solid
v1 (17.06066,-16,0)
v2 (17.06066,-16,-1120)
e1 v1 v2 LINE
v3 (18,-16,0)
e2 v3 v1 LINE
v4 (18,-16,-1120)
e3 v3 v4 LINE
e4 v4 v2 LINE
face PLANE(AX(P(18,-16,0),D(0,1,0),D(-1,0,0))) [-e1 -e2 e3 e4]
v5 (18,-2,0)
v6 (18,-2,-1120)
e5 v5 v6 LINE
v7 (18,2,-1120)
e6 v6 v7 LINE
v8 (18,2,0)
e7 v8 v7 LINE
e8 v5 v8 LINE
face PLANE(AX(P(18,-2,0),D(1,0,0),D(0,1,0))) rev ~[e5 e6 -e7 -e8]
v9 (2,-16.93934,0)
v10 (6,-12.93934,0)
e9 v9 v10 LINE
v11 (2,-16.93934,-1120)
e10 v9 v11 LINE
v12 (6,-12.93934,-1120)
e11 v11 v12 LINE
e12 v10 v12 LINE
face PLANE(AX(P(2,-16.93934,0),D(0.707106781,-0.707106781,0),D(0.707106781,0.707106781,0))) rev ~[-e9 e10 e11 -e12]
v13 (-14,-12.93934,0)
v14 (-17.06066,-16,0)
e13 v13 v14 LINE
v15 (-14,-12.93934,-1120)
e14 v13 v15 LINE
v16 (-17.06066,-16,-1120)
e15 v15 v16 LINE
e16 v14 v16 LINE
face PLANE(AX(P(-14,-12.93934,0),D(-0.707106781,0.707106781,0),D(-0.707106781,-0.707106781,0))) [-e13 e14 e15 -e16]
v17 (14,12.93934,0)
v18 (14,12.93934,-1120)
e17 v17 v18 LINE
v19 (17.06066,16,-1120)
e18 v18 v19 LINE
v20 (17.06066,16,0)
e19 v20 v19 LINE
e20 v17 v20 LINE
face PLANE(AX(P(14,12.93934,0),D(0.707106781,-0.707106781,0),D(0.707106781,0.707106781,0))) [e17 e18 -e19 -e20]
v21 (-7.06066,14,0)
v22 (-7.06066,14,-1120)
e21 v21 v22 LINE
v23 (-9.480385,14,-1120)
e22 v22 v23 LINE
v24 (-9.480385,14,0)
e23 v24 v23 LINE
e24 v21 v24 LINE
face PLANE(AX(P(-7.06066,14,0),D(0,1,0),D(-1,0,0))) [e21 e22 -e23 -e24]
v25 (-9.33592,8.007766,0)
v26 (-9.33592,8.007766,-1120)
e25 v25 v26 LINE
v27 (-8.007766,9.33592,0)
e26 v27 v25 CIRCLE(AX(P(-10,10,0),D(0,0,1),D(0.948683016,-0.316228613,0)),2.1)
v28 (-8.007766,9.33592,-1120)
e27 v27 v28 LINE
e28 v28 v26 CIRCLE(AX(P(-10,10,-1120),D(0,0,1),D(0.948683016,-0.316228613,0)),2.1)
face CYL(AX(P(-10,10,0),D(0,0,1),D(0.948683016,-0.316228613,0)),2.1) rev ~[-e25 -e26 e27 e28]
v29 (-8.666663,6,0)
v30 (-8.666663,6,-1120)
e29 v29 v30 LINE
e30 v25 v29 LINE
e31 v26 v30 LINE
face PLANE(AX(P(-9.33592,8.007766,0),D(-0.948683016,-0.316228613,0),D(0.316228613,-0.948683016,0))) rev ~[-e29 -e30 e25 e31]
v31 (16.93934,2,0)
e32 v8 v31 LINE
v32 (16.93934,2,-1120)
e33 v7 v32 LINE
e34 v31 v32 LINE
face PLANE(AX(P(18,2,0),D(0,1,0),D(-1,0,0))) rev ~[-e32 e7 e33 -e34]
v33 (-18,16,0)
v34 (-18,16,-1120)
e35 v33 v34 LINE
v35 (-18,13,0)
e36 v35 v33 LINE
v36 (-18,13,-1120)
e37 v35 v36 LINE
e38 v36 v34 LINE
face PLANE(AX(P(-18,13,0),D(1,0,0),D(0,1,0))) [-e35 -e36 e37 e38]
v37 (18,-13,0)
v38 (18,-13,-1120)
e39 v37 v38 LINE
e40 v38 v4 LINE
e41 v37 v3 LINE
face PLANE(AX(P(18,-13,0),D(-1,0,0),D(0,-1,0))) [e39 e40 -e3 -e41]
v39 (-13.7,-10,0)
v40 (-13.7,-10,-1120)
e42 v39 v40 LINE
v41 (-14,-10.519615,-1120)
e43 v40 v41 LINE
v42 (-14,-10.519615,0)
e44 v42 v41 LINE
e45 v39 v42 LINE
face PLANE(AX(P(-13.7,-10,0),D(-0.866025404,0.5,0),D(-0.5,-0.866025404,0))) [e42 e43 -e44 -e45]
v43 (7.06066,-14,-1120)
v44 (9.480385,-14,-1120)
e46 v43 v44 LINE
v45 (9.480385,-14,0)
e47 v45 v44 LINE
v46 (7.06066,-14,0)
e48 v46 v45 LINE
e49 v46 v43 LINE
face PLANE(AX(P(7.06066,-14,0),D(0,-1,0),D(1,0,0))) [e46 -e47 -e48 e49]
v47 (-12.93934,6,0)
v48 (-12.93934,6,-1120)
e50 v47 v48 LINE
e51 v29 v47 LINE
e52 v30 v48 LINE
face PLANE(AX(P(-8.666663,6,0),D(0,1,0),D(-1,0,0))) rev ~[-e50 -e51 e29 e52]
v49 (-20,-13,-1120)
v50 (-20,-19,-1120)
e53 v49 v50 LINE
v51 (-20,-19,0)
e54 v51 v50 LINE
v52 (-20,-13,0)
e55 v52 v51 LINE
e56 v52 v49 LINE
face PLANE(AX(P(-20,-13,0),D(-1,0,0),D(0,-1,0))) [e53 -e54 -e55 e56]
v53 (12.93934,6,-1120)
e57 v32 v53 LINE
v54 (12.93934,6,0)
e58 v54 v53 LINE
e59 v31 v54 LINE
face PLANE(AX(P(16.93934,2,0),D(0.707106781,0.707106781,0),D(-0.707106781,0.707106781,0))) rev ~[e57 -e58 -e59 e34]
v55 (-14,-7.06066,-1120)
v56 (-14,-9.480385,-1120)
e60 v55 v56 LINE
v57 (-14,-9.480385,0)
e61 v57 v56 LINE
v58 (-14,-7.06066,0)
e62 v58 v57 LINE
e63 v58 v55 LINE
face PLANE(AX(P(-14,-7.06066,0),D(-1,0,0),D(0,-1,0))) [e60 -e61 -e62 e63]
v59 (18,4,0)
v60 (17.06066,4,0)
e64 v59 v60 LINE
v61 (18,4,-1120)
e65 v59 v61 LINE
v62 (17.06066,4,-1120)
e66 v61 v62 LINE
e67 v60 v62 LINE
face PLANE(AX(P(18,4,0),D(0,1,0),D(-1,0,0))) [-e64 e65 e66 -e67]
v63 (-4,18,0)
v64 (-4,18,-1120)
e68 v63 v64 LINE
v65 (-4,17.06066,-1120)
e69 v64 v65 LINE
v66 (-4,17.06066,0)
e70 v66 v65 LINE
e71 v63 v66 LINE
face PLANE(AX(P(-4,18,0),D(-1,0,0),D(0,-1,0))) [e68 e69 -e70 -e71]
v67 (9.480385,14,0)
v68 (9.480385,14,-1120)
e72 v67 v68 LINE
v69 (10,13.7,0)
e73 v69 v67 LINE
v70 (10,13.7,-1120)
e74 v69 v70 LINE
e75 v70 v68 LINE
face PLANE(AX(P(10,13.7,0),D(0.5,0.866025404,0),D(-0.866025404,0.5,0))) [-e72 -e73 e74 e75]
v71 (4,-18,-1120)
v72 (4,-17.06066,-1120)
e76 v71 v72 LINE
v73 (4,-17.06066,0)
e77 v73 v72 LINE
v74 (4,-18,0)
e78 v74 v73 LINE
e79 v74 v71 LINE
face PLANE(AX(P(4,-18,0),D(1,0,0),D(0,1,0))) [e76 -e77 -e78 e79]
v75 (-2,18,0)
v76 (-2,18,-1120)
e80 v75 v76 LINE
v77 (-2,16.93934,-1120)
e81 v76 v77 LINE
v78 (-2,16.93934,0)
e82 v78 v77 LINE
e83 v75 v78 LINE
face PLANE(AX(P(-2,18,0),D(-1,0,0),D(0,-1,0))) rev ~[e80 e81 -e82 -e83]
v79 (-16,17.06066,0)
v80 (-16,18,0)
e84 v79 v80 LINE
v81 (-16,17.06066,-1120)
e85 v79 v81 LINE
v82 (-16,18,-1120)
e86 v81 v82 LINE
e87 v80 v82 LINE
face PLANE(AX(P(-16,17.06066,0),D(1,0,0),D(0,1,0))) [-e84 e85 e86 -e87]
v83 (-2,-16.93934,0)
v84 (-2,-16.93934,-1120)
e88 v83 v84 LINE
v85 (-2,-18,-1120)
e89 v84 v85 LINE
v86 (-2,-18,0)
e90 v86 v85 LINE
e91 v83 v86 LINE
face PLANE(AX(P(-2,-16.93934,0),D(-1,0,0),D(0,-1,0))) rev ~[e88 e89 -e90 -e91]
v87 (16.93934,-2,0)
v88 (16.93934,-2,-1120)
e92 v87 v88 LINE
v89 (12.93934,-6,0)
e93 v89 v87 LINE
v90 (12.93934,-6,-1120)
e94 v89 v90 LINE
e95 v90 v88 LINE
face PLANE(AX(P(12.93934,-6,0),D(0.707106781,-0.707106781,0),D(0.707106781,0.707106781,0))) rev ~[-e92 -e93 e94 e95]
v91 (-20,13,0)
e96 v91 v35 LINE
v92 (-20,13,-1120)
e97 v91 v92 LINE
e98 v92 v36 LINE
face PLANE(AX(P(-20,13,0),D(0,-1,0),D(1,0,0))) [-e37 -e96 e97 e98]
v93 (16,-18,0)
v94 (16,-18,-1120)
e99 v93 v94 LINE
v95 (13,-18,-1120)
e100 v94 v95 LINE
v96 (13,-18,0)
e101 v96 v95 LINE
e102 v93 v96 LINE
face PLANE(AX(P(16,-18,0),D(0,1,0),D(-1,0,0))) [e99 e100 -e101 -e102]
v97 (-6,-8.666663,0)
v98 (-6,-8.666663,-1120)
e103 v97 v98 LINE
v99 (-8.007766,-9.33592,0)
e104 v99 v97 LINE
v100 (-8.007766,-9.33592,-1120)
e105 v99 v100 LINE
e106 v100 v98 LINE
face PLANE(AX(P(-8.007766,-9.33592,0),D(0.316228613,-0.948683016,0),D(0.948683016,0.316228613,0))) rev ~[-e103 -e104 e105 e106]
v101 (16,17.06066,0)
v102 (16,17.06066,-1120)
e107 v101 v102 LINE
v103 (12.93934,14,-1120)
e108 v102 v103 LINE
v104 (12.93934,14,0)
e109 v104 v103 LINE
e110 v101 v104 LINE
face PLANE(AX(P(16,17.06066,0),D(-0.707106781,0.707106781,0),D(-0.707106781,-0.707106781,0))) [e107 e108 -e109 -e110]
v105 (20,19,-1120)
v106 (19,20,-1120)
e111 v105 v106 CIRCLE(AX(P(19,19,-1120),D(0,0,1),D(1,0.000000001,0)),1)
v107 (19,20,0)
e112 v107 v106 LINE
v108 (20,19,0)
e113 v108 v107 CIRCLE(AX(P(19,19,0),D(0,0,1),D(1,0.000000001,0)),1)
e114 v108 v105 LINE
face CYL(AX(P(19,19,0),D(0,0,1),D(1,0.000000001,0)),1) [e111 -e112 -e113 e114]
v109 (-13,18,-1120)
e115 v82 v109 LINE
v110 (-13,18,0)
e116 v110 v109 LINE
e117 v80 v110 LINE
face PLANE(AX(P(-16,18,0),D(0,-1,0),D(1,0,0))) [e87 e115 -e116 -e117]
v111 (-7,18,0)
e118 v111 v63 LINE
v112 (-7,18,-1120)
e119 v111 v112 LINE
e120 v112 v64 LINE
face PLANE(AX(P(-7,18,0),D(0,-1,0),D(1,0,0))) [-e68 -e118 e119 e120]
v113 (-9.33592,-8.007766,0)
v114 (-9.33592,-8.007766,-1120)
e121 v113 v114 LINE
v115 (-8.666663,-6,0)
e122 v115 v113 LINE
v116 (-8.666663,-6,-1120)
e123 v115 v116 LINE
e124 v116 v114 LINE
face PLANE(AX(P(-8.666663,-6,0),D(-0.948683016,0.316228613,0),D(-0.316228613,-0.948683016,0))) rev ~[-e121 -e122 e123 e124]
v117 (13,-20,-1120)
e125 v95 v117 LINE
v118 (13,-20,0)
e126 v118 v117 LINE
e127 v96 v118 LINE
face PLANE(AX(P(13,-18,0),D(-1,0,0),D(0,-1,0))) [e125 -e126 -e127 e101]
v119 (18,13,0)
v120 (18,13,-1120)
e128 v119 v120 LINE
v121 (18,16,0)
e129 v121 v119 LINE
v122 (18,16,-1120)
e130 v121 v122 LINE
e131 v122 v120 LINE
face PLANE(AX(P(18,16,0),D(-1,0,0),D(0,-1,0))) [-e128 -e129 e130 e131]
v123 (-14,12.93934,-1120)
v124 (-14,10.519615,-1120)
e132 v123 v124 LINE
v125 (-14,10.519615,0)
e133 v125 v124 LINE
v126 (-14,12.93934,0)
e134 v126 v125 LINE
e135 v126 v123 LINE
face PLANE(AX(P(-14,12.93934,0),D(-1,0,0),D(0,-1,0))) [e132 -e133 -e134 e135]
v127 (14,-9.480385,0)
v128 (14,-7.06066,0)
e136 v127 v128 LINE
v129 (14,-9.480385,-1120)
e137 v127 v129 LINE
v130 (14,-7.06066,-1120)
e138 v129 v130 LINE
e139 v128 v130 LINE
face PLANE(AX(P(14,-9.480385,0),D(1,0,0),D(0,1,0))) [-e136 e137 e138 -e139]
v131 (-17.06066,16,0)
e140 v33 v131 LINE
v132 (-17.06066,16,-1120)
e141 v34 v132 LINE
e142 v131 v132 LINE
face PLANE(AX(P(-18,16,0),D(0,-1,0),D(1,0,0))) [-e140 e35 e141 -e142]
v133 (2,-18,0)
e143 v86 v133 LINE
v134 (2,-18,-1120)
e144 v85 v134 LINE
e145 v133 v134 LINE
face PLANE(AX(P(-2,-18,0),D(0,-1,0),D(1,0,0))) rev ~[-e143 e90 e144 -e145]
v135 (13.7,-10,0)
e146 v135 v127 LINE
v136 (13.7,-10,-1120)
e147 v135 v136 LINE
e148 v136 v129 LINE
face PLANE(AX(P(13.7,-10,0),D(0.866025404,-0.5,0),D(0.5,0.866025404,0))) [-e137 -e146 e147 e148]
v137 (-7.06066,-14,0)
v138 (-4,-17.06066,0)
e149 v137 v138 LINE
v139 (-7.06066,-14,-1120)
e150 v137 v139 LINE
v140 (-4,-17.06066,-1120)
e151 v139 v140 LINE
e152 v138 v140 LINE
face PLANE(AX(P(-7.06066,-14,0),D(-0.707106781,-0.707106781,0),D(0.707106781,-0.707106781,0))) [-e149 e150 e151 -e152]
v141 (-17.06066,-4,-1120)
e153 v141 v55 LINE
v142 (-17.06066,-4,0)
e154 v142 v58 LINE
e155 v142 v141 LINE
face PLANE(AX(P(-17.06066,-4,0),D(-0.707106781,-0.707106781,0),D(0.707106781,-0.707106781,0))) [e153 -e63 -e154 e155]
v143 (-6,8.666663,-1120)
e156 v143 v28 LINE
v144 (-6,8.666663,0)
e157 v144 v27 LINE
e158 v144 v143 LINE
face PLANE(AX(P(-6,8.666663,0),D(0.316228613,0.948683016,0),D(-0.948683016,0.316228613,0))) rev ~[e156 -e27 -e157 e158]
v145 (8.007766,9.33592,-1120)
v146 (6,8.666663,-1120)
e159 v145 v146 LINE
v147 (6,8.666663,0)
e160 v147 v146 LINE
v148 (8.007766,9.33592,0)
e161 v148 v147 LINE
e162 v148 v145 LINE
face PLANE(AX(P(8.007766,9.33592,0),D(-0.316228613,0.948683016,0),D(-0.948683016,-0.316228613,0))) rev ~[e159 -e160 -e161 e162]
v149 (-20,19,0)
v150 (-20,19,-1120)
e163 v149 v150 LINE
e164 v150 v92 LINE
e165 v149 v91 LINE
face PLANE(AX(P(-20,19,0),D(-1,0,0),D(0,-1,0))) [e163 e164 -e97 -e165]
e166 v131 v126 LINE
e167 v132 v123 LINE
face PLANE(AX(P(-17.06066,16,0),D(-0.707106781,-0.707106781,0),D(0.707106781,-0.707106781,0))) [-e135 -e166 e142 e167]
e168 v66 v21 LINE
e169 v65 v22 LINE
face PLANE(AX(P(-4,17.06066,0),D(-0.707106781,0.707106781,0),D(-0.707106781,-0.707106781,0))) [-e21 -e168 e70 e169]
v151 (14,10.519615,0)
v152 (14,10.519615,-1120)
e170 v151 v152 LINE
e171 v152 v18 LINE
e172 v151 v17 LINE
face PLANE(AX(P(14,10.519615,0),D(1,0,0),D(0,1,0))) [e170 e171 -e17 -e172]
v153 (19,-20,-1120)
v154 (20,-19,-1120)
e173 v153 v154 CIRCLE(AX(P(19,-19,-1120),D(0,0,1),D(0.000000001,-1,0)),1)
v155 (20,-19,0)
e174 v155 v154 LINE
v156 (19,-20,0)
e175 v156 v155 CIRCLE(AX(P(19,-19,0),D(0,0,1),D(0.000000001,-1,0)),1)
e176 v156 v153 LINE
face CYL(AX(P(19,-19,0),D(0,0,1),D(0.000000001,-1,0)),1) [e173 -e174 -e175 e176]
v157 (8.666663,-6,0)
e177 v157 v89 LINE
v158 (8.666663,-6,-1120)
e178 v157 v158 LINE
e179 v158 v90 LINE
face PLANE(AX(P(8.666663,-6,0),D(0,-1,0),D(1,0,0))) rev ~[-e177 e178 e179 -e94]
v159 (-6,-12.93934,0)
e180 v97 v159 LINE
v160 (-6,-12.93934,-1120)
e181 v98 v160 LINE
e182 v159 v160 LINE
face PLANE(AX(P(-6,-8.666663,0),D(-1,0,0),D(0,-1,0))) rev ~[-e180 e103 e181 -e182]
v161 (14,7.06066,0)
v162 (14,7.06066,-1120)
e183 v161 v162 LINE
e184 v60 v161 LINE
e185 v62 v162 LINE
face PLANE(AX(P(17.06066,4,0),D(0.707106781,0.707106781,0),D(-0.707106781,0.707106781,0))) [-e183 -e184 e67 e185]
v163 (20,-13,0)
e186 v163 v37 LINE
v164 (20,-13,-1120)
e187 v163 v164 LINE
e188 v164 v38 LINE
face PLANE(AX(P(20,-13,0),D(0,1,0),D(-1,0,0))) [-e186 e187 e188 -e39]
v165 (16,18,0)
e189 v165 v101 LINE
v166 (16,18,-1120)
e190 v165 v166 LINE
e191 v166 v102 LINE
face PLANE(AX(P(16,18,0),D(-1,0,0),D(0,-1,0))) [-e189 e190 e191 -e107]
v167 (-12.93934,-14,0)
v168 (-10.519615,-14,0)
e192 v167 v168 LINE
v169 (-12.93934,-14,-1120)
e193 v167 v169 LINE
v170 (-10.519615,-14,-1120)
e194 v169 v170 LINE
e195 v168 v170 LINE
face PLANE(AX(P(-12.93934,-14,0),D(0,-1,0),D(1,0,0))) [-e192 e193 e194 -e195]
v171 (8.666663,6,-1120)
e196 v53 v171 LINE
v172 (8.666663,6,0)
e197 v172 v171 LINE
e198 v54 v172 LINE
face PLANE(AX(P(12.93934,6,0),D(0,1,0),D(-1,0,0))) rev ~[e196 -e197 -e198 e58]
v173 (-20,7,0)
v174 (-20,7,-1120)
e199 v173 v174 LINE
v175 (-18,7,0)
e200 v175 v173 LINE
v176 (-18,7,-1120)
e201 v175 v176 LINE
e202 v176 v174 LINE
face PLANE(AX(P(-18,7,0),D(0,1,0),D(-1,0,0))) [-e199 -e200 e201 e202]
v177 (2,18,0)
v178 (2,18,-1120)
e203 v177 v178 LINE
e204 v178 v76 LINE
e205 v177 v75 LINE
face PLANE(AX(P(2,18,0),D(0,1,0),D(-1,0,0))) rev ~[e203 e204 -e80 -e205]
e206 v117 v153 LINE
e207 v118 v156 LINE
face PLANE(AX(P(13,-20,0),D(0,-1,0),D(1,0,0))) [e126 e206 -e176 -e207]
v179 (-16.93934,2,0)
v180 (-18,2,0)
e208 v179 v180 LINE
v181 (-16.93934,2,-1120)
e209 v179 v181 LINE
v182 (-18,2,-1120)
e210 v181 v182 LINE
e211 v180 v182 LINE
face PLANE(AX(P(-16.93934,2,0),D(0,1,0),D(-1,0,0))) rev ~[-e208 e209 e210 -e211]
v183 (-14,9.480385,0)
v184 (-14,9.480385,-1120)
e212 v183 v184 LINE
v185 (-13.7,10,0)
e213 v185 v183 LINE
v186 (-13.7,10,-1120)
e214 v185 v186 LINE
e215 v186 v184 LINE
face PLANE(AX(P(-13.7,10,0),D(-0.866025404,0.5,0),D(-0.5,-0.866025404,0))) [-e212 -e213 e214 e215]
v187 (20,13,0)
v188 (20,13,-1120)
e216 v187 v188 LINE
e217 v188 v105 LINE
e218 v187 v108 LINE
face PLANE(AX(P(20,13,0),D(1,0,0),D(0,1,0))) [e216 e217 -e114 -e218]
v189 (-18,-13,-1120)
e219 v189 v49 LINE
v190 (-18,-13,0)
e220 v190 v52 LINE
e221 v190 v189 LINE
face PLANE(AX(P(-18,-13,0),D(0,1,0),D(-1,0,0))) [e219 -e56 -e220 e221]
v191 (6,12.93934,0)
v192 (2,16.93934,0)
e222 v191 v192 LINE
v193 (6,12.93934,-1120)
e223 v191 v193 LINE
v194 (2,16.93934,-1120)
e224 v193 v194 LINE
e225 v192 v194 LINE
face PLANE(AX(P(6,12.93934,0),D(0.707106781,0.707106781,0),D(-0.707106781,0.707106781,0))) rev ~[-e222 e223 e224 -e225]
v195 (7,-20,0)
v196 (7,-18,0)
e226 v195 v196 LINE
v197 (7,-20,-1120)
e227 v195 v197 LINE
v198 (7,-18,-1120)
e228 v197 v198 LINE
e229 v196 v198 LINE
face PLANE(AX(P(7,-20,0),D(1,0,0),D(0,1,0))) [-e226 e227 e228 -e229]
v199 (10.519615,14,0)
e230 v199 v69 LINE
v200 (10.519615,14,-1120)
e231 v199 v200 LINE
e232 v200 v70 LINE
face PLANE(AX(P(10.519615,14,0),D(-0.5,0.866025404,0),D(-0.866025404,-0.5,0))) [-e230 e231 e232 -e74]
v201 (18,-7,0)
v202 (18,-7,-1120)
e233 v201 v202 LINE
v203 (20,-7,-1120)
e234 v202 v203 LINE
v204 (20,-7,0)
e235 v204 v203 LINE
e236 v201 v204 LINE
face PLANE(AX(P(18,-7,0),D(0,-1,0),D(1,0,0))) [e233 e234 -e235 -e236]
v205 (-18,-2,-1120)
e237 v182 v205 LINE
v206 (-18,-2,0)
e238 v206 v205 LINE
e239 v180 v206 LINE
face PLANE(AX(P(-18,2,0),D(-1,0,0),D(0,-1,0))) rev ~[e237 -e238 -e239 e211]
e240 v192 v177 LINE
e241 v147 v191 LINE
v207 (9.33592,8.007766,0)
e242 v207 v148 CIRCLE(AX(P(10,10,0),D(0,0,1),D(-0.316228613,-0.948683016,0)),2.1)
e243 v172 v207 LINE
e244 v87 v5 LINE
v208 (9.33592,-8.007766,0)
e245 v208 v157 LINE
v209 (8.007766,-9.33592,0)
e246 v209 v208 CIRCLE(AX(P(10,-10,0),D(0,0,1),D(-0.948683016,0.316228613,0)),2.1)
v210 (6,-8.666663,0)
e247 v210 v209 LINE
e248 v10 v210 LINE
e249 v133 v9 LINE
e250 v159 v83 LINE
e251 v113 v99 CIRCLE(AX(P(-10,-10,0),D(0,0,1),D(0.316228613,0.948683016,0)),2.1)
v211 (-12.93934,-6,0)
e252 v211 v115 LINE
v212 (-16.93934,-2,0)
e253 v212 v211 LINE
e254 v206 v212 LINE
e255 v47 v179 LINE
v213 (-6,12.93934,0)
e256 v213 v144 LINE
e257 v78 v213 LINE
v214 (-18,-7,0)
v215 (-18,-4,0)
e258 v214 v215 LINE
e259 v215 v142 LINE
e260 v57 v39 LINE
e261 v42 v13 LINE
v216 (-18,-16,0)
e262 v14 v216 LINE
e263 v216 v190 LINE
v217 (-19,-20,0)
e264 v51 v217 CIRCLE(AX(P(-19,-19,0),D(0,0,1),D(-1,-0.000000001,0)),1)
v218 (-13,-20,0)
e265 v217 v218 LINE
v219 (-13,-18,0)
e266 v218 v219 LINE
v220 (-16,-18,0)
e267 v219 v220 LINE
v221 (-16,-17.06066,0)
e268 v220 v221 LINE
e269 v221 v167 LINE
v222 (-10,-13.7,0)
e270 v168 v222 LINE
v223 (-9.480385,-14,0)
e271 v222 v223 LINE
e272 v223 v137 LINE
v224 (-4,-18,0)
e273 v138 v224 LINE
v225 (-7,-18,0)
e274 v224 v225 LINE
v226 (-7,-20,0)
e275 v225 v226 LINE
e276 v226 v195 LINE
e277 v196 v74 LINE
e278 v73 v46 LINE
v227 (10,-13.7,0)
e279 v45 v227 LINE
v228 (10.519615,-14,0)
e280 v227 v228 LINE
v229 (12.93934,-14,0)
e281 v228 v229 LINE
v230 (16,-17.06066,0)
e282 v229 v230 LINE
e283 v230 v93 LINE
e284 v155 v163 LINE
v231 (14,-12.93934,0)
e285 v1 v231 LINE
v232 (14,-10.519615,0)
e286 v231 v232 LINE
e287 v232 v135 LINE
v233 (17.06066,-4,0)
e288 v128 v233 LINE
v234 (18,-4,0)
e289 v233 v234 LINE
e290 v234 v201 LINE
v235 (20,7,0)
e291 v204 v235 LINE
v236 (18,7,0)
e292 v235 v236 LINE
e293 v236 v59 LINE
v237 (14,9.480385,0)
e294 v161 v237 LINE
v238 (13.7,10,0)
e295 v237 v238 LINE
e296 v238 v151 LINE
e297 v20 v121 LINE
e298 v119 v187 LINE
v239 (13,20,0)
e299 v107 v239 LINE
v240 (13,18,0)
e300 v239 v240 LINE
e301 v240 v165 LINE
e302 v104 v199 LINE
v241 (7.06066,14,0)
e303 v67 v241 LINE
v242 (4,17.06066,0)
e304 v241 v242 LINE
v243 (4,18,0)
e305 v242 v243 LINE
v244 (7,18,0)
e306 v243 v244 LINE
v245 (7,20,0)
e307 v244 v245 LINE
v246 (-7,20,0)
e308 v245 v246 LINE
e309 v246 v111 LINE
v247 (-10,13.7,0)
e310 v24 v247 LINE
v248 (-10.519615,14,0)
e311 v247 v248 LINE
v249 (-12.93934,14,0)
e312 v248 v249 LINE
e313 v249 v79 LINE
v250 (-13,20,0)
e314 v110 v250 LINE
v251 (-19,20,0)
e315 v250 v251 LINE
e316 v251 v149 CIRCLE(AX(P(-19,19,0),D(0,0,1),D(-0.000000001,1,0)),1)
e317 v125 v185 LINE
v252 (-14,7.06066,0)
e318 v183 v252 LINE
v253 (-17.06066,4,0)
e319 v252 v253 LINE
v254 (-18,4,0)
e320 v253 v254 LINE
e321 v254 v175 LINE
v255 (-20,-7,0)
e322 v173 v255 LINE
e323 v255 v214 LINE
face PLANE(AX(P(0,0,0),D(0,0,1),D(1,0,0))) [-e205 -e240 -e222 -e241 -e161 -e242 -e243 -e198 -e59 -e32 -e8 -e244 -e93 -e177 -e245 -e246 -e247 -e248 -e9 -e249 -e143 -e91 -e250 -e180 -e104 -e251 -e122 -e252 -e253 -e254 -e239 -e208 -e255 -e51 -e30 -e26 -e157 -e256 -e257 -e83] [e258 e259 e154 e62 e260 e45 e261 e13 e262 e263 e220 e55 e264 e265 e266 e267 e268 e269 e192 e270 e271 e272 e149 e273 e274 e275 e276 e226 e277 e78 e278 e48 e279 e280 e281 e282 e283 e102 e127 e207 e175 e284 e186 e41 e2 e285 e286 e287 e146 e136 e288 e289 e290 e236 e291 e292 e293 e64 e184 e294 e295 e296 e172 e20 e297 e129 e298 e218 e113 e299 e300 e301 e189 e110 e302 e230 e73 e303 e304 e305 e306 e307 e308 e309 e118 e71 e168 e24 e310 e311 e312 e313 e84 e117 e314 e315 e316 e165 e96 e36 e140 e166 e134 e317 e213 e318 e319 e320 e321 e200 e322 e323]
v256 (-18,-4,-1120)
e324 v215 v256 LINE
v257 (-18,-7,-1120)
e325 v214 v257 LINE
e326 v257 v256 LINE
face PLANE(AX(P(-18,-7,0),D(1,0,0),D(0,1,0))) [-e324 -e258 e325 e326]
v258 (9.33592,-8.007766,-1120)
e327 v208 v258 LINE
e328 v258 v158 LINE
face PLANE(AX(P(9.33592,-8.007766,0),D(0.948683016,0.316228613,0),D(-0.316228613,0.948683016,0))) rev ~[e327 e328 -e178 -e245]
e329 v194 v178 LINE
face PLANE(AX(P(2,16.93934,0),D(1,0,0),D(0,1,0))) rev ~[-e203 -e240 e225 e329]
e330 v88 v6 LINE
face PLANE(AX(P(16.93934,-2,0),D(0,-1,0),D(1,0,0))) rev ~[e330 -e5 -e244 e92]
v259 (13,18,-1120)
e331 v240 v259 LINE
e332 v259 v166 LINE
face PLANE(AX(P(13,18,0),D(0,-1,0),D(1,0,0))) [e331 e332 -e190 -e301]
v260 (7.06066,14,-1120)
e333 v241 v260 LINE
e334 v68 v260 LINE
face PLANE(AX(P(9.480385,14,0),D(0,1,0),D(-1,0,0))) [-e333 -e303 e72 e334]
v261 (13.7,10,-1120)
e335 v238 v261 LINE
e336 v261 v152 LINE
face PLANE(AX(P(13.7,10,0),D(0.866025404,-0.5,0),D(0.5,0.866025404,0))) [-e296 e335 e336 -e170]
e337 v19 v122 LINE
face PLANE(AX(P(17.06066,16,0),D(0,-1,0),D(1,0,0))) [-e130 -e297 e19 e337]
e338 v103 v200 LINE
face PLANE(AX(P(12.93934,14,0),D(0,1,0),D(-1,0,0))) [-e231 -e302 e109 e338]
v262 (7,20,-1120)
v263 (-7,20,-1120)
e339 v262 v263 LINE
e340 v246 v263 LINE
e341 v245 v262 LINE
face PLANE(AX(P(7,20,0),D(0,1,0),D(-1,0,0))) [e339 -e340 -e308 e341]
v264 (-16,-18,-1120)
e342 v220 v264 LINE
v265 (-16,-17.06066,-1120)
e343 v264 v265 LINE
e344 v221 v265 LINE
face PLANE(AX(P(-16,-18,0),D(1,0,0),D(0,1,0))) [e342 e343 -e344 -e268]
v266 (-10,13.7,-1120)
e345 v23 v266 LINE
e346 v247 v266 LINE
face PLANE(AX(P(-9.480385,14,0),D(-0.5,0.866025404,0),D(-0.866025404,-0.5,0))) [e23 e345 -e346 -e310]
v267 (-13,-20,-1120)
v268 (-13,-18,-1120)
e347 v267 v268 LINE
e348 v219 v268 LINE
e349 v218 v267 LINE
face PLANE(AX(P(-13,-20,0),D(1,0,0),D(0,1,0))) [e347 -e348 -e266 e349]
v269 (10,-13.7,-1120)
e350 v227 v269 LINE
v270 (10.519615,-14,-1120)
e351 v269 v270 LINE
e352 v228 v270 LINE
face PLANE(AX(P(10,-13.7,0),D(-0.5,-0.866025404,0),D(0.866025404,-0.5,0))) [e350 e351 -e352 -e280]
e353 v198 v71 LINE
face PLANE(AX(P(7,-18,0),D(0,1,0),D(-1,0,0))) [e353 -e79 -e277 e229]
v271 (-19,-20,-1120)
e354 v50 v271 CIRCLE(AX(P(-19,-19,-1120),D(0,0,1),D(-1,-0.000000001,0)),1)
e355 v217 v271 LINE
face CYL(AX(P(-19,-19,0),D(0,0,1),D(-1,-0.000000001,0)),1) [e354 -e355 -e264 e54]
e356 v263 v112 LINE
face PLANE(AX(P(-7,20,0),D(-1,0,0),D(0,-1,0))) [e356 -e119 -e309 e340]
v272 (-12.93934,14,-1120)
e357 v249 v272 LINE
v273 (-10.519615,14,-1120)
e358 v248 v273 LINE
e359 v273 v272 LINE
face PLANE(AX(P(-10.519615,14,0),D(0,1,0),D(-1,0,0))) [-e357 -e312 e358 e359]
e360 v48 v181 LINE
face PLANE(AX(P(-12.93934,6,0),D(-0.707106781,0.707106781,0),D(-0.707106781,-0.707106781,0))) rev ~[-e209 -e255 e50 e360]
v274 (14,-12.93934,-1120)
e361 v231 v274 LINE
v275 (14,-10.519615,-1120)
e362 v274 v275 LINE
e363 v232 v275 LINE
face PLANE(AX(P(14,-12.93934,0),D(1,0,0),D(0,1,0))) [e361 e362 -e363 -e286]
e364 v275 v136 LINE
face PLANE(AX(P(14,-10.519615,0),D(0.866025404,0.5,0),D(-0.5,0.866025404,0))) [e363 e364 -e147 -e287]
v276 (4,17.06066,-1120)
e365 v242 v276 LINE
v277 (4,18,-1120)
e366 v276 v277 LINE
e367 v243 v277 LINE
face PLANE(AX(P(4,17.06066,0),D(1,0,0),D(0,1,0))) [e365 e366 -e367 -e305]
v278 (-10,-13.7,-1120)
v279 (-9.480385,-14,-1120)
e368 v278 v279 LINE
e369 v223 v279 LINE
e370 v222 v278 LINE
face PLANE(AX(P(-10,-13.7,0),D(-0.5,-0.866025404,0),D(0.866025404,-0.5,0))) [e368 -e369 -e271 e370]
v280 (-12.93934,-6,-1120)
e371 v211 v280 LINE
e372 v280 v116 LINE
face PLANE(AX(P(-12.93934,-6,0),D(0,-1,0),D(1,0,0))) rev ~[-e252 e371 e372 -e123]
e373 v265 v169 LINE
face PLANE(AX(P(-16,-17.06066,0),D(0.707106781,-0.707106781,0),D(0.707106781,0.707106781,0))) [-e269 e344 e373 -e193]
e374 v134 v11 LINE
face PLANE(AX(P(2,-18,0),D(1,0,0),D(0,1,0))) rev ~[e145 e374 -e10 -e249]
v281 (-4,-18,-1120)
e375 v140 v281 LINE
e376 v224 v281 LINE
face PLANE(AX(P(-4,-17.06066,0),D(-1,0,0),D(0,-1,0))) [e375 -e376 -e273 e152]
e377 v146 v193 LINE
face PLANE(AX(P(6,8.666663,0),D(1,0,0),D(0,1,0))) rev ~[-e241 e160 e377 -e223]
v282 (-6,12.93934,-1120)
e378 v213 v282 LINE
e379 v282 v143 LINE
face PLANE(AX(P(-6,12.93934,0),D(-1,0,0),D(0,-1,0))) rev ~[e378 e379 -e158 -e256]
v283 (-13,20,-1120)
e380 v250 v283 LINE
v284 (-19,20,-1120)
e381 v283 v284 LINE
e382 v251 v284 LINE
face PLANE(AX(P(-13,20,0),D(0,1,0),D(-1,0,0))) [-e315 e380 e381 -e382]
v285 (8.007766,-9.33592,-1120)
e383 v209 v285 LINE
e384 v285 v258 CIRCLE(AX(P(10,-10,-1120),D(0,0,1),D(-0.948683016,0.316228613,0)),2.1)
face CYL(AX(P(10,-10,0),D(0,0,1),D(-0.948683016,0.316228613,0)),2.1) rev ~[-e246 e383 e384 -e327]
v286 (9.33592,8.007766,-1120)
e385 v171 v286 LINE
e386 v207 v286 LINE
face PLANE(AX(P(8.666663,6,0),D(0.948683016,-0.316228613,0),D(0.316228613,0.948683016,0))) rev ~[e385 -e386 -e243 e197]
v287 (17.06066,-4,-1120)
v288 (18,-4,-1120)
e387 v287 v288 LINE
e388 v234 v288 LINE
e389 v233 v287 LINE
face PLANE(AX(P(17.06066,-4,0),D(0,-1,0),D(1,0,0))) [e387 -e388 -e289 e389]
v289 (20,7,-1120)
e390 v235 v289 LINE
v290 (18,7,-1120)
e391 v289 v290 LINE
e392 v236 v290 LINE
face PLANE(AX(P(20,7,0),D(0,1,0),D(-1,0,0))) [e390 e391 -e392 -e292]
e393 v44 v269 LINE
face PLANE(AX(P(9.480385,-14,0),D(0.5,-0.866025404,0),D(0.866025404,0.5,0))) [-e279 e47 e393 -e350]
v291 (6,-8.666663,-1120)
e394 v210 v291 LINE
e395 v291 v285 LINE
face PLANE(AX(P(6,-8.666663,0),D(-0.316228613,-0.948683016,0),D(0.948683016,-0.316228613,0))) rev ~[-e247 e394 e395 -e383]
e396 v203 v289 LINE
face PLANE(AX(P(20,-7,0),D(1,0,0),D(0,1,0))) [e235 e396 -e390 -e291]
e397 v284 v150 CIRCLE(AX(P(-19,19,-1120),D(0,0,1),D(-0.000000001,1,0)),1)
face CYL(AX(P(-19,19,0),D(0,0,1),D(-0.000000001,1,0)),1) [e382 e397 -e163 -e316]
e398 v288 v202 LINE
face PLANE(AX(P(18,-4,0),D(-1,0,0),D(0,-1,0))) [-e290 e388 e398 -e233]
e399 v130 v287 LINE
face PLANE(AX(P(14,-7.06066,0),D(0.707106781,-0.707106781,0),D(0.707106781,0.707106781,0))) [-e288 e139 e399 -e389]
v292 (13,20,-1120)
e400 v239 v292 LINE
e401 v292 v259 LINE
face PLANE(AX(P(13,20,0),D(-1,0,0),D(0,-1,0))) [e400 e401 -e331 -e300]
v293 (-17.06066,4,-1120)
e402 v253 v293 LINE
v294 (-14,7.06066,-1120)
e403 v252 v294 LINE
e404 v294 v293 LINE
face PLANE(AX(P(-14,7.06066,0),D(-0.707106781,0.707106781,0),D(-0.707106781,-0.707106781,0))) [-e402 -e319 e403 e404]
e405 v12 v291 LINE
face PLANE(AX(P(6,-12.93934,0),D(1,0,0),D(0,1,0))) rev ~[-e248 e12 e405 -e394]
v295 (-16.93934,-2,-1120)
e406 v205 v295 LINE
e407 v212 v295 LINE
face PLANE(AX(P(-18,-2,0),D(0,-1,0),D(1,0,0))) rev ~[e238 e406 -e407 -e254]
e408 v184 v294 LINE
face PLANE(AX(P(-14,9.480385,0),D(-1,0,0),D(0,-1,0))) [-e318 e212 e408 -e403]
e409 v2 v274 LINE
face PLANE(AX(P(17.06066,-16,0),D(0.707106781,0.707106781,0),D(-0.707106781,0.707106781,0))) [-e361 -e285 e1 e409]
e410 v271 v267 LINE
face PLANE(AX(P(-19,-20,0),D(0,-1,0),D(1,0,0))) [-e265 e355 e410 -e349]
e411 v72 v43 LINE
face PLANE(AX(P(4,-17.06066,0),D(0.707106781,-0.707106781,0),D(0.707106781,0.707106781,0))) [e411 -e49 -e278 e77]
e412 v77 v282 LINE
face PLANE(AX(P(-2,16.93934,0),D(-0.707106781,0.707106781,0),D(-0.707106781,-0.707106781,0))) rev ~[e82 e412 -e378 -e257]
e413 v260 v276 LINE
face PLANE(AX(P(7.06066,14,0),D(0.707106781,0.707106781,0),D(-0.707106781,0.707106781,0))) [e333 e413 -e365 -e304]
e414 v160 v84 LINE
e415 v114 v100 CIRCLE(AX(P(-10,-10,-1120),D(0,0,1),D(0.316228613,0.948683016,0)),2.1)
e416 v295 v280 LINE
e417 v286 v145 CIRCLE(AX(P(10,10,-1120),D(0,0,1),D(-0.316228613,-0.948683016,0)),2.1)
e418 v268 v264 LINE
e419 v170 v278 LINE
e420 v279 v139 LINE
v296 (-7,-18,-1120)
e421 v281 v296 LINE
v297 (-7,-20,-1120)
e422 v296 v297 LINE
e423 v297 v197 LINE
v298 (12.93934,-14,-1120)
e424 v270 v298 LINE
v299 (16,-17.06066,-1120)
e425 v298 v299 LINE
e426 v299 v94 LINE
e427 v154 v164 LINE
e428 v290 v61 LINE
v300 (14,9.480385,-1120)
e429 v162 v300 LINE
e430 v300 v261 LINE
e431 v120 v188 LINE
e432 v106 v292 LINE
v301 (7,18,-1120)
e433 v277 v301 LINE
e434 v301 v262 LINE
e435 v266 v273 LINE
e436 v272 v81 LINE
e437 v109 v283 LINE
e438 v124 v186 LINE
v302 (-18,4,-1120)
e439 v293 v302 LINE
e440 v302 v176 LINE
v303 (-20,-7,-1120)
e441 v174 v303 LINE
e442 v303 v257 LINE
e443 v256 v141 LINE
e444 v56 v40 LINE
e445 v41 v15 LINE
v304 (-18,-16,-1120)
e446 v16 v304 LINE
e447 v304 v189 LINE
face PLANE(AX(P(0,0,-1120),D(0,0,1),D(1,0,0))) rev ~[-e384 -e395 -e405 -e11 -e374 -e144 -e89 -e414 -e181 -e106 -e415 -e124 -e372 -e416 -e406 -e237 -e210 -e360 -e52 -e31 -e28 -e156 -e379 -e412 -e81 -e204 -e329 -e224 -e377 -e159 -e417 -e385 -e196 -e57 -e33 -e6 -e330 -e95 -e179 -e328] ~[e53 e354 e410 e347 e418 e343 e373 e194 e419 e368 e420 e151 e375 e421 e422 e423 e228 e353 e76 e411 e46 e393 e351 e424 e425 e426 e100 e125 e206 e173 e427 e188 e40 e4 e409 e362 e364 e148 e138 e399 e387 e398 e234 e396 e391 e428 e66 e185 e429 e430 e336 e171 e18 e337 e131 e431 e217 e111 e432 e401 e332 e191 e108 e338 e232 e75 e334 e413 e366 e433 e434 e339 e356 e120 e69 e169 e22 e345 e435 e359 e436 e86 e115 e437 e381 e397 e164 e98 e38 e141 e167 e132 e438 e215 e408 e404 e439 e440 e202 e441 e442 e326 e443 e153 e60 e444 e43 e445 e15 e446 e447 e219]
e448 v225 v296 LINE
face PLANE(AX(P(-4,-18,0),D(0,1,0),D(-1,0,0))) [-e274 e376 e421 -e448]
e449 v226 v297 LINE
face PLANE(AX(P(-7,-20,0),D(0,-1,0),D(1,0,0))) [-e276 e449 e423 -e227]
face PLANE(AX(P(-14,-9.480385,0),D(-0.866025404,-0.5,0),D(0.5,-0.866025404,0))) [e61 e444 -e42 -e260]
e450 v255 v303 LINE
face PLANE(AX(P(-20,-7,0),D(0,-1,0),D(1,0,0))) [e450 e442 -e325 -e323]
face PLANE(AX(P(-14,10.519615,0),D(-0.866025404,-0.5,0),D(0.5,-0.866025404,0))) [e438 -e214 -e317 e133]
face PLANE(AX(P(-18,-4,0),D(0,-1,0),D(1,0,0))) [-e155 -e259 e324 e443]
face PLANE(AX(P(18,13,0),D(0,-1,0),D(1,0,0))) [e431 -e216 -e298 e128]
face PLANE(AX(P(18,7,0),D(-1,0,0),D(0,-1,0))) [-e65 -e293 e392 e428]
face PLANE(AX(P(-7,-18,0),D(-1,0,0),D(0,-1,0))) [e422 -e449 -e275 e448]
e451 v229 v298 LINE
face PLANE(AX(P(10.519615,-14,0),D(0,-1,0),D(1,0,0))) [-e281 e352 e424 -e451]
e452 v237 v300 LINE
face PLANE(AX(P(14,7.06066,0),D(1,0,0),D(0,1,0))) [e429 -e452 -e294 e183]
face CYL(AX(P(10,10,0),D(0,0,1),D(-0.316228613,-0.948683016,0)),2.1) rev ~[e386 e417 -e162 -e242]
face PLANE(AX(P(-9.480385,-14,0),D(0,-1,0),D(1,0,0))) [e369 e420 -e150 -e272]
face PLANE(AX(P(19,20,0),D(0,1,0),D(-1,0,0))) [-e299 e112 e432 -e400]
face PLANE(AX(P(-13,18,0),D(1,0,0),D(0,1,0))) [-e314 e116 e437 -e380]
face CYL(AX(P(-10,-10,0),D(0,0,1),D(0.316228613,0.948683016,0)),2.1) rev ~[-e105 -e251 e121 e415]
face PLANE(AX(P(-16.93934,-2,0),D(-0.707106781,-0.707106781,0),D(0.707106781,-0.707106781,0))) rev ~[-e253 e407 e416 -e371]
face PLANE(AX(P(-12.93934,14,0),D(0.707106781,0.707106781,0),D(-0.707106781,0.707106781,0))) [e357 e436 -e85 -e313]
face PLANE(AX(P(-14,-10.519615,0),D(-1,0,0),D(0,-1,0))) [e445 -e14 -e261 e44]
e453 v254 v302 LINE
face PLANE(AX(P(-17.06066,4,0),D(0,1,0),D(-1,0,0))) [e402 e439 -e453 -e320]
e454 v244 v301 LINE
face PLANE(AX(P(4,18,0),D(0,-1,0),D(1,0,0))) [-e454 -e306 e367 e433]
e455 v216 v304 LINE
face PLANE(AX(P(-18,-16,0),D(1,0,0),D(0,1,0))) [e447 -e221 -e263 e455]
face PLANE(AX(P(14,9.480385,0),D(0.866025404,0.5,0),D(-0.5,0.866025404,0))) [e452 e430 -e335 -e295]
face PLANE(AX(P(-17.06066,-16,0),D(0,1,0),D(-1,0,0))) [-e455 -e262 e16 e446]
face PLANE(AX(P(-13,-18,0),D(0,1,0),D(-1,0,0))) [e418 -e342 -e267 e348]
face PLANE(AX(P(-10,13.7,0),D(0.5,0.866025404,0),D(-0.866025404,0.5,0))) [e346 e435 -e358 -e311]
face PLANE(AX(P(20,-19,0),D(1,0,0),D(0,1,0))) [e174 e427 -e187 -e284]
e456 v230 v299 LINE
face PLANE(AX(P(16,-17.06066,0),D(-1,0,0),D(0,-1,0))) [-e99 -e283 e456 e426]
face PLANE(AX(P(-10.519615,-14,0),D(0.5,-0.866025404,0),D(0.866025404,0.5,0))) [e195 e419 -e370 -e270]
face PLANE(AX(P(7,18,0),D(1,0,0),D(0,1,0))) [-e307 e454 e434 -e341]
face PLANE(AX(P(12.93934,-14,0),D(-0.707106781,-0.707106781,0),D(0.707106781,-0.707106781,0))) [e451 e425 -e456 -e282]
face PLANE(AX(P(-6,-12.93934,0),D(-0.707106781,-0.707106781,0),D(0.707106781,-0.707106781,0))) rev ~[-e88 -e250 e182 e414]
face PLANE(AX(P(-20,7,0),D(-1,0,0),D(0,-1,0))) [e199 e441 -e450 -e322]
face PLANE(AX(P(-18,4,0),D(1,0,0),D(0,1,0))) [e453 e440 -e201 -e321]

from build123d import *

# Parameters (mm, degrees)
BOSS_EXTRUDE1_DEPTH = 1120
CUT_EXTRUDE1_DEPTH  = 1182


with BuildPart() as part:
    # Sketch1 → Boss-Extrude1 (new body)
    with BuildSketch(Plane.XY):
        with BuildLine():
            Line((-20, 13), (-18, 13))
            Line((-18, 13), (-18, 16))
            Line((-18, 16), (-17.060660172, 16))
            Line((-17.060660172, 16), (-14, 12.939339828))
            Line((-14, 12.939339828), (-14, 10.519615242))
            Line((-14, 10.519615242), (-13.7, 10))
            Line((-13.7, 10), (-14, 9.480384758))
            Line((-14, 9.480384758), (-14, 7.060660172))
            Line((-14, 7.060660172), (-17.060660172, 4))
            Line((-17.060660172, 4), (-18, 4))
            Line((-18, 4), (-18, 7))
            Line((-18, 7), (-20, 7))
            Line((-20, 7), (-20, -7))
            Line((-20, -7), (-18, -7))
            Line((-18, -7), (-18, -4))
            Line((-18, -4), (-17.060660172, -4))
            Line((-17.060660172, -4), (-14, -7.060660172))
            Line((-14, -7.060660172), (-14, -9.480384758))
            Line((-14, -9.480384758), (-13.7, -10))
            Line((-13.7, -10), (-14, -10.519615242))
            Line((-14, -10.519615242), (-14, -12.939339828))
            Line((-14, -12.939339828), (-17.060660172, -16))
            Line((-17.060660172, -16), (-18, -16))
            Line((-18, -16), (-18, -13))
            Line((-18, -13), (-20, -13))
            Line((-20, -13), (-20, -19))
            ThreePointArc((-20, -19), (-19.707106781, -19.707106781), (-19, -20))
            Line((-19, -20), (-13, -20))
            Line((-13, -20), (-13, -18))
            Line((-13, -18), (-16, -18))
            Line((-16, -18), (-16, -17.060660172))
            Line((-16, -17.060660172), (-12.939339828, -14))
            Line((-12.939339828, -14), (-10.519615242, -14))
            Line((-10.519615242, -14), (-10, -13.7))
            Line((-10, -13.7), (-9.480384758, -14))
            Line((-9.480384758, -14), (-7.060660172, -14))
            Line((-7.060660172, -14), (-4, -17.060660172))
            Line((-4, -17.060660172), (-4, -18))
            Line((-4, -18), (-7, -18))
            Line((-7, -18), (-7, -20))
            Line((-7, -20), (7, -20))
            Line((7, -20), (7, -18))
            Line((7, -18), (4, -18))
            Line((4, -18), (4, -17.060660172))
            Line((4, -17.060660172), (7.060660172, -14))
            Line((7.060660172, -14), (9.480384758, -14))
            Line((9.480384758, -14), (10, -13.7))
            Line((10, -13.7), (10.519615242, -14))
            Line((10.519615242, -14), (12.939339828, -14))
            Line((12.939339828, -14), (16, -17.060660172))
            Line((16, -17.060660172), (16, -18))
            Line((16, -18), (13, -18))
            Line((13, -18), (13, -20))
            Line((13, -20), (19, -20))
            ThreePointArc((19, -20), (19.707106781, -19.707106781), (20, -19))
            Line((20, -19), (20, -13))
            Line((20, -13), (18, -13))
            Line((18, -13), (18, -16))
            Line((18, -16), (17.060660172, -16))
            Line((17.060660172, -16), (14, -12.939339828))
            Line((14, -12.939339828), (14, -10.519615242))
            Line((14, -10.519615242), (13.7, -10))
            Line((13.7, -10), (14, -9.480384758))
            Line((14, -9.480384758), (14, -7.060660172))
            Line((14, -7.060660172), (17.060660172, -4))
            Line((17.060660172, -4), (18, -4))
            Line((18, -4), (18, -7))
            Line((18, -7), (20, -7))
            Line((20, -7), (20, 7))
            Line((20, 7), (18, 7))
            Line((18, 7), (18, 4))
            Line((18, 4), (17.060660172, 4))
            Line((17.060660172, 4), (14, 7.060660172))
            Line((14, 7.060660172), (14, 9.480384758))
            Line((14, 9.480384758), (13.7, 10))
            Line((13.7, 10), (14, 10.519615242))
            Line((14, 10.519615242), (14, 12.939339828))
            Line((14, 12.939339828), (17.060660172, 16))
            Line((17.060660172, 16), (18, 16))
            Line((18, 16), (18, 13))
            Line((18, 13), (20, 13))
            Line((20, 13), (20, 19))
            ThreePointArc((20, 19), (19.707106781, 19.707106781), (19, 20))
            Line((19, 20), (13, 20))
            Line((13, 20), (13, 18))
            Line((13, 18), (16, 18))
            Line((16, 18), (16, 17.060660172))
            Line((16, 17.060660172), (12.939339828, 14))
            Line((12.939339828, 14), (10.519615242, 14))
            Line((10.519615242, 14), (10, 13.7))
            Line((10, 13.7), (9.480384758, 14))
            Line((9.480384758, 14), (7.060660172, 14))
            Line((7.060660172, 14), (4, 17.060660172))
            Line((4, 17.060660172), (4, 18))
            Line((4, 18), (7, 18))
            Line((7, 18), (7, 20))
            Line((7, 20), (-7, 20))
            Line((-7, 20), (-7, 18))
            Line((-7, 18), (-4, 18))
            Line((-4, 18), (-4, 17.060660172))
            Line((-4, 17.060660172), (-7.060660172, 14))
            Line((-7.060660172, 14), (-9.480384758, 14))
            Line((-9.480384758, 14), (-10, 13.7))
            Line((-10, 13.7), (-10.519615242, 14))
            Line((-10.519615242, 14), (-12.939339828, 14))
            Line((-12.939339828, 14), (-16, 17.060660172))
            Line((-16, 17.060660172), (-16, 18))
            Line((-16, 18), (-13, 18))
            Line((-13, 18), (-13, 20))
            Line((-13, 20), (-19, 20))
            ThreePointArc((-19, 20), (-19.707106781, 19.707106781), (-20, 19))
            Line((-20, 19), (-20, 13))
        make_face()
    extrude(amount=-BOSS_EXTRUDE1_DEPTH)

    # Sketch2 → Cut-Extrude1 (cut)
    with BuildSketch(Plane.XY):
        with BuildLine():
            Line((-18, 2), (-18, -2))
            Line((-18, -2), (-16.939339828, -2))
            Line((-16.939339828, -2), (-12.939339828, -6))
            Line((-12.939339828, -6), (-8.666662697, -6))
            Line((-8.666662697, -6), (-9.335919912, -8.007765667))
            ThreePointArc((-9.335919912, -8.007765667), (-11.48492424, -11.48492424), (-8.007765667, -9.335919912))
            Line((-8.007765667, -9.335919912), (-6, -8.666662697))
            Line((-6, -8.666662697), (-6, -12.939339828))
            Line((-6, -12.939339828), (-2, -16.939339828))
            Line((-2, -16.939339828), (-2, -18))
            Line((-2, -18), (2, -18))
            Line((2, -18), (2, -16.939339828))
            Line((2, -16.939339828), (6, -12.939339828))
            Line((6, -12.939339828), (6, -8.666662697))
            Line((6, -8.666662697), (8.007765667, -9.335919912))
            ThreePointArc((8.007765667, -9.335919912), (11.48492424, -11.48492424), (9.335919912, -8.007765667))
            Line((9.335919912, -8.007765667), (8.666662697, -6))
            Line((8.666662697, -6), (12.939339828, -6))
            Line((12.939339828, -6), (16.939339828, -2))
            Line((16.939339828, -2), (18, -2))
            Line((18, -2), (18, 2))
            Line((18, 2), (16.939339828, 2))
            Line((16.939339828, 2), (12.939339828, 6))
            Line((12.939339828, 6), (8.666662697, 6))
            Line((8.666662697, 6), (9.335919912, 8.007765667))
            ThreePointArc((9.335919912, 8.007765667), (11.48492424, 11.48492424), (8.007765667, 9.335919912))
            Line((8.007765667, 9.335919912), (6, 8.666662697))
            Line((6, 8.666662697), (6, 12.939339828))
            Line((6, 12.939339828), (2, 16.939339828))
            Line((2, 16.939339828), (2, 18))
            Line((2, 18), (-2, 18))
            Line((-2, 18), (-2, 16.939339828))
            Line((-2, 16.939339828), (-6, 12.939339828))
            Line((-6, 12.939339828), (-6, 8.666662697))
            Line((-6, 8.666662697), (-8.007765667, 9.335919912))
            ThreePointArc((-8.007765667, 9.335919912), (-11.48492424, 11.48492424), (-9.335919912, 8.007765667))
            Line((-9.335919912, 8.007765667), (-8.666662697, 6))
            Line((-8.666662697, 6), (-12.939339828, 6))
            Line((-12.939339828, 6), (-16.939339828, 2))
            Line((-16.939339828, 2), (-18, 2))
        make_face()
    extrude(amount=-CUT_EXTRUDE1_DEPTH, mode=Mode.SUBTRACT)


solid = part.part
